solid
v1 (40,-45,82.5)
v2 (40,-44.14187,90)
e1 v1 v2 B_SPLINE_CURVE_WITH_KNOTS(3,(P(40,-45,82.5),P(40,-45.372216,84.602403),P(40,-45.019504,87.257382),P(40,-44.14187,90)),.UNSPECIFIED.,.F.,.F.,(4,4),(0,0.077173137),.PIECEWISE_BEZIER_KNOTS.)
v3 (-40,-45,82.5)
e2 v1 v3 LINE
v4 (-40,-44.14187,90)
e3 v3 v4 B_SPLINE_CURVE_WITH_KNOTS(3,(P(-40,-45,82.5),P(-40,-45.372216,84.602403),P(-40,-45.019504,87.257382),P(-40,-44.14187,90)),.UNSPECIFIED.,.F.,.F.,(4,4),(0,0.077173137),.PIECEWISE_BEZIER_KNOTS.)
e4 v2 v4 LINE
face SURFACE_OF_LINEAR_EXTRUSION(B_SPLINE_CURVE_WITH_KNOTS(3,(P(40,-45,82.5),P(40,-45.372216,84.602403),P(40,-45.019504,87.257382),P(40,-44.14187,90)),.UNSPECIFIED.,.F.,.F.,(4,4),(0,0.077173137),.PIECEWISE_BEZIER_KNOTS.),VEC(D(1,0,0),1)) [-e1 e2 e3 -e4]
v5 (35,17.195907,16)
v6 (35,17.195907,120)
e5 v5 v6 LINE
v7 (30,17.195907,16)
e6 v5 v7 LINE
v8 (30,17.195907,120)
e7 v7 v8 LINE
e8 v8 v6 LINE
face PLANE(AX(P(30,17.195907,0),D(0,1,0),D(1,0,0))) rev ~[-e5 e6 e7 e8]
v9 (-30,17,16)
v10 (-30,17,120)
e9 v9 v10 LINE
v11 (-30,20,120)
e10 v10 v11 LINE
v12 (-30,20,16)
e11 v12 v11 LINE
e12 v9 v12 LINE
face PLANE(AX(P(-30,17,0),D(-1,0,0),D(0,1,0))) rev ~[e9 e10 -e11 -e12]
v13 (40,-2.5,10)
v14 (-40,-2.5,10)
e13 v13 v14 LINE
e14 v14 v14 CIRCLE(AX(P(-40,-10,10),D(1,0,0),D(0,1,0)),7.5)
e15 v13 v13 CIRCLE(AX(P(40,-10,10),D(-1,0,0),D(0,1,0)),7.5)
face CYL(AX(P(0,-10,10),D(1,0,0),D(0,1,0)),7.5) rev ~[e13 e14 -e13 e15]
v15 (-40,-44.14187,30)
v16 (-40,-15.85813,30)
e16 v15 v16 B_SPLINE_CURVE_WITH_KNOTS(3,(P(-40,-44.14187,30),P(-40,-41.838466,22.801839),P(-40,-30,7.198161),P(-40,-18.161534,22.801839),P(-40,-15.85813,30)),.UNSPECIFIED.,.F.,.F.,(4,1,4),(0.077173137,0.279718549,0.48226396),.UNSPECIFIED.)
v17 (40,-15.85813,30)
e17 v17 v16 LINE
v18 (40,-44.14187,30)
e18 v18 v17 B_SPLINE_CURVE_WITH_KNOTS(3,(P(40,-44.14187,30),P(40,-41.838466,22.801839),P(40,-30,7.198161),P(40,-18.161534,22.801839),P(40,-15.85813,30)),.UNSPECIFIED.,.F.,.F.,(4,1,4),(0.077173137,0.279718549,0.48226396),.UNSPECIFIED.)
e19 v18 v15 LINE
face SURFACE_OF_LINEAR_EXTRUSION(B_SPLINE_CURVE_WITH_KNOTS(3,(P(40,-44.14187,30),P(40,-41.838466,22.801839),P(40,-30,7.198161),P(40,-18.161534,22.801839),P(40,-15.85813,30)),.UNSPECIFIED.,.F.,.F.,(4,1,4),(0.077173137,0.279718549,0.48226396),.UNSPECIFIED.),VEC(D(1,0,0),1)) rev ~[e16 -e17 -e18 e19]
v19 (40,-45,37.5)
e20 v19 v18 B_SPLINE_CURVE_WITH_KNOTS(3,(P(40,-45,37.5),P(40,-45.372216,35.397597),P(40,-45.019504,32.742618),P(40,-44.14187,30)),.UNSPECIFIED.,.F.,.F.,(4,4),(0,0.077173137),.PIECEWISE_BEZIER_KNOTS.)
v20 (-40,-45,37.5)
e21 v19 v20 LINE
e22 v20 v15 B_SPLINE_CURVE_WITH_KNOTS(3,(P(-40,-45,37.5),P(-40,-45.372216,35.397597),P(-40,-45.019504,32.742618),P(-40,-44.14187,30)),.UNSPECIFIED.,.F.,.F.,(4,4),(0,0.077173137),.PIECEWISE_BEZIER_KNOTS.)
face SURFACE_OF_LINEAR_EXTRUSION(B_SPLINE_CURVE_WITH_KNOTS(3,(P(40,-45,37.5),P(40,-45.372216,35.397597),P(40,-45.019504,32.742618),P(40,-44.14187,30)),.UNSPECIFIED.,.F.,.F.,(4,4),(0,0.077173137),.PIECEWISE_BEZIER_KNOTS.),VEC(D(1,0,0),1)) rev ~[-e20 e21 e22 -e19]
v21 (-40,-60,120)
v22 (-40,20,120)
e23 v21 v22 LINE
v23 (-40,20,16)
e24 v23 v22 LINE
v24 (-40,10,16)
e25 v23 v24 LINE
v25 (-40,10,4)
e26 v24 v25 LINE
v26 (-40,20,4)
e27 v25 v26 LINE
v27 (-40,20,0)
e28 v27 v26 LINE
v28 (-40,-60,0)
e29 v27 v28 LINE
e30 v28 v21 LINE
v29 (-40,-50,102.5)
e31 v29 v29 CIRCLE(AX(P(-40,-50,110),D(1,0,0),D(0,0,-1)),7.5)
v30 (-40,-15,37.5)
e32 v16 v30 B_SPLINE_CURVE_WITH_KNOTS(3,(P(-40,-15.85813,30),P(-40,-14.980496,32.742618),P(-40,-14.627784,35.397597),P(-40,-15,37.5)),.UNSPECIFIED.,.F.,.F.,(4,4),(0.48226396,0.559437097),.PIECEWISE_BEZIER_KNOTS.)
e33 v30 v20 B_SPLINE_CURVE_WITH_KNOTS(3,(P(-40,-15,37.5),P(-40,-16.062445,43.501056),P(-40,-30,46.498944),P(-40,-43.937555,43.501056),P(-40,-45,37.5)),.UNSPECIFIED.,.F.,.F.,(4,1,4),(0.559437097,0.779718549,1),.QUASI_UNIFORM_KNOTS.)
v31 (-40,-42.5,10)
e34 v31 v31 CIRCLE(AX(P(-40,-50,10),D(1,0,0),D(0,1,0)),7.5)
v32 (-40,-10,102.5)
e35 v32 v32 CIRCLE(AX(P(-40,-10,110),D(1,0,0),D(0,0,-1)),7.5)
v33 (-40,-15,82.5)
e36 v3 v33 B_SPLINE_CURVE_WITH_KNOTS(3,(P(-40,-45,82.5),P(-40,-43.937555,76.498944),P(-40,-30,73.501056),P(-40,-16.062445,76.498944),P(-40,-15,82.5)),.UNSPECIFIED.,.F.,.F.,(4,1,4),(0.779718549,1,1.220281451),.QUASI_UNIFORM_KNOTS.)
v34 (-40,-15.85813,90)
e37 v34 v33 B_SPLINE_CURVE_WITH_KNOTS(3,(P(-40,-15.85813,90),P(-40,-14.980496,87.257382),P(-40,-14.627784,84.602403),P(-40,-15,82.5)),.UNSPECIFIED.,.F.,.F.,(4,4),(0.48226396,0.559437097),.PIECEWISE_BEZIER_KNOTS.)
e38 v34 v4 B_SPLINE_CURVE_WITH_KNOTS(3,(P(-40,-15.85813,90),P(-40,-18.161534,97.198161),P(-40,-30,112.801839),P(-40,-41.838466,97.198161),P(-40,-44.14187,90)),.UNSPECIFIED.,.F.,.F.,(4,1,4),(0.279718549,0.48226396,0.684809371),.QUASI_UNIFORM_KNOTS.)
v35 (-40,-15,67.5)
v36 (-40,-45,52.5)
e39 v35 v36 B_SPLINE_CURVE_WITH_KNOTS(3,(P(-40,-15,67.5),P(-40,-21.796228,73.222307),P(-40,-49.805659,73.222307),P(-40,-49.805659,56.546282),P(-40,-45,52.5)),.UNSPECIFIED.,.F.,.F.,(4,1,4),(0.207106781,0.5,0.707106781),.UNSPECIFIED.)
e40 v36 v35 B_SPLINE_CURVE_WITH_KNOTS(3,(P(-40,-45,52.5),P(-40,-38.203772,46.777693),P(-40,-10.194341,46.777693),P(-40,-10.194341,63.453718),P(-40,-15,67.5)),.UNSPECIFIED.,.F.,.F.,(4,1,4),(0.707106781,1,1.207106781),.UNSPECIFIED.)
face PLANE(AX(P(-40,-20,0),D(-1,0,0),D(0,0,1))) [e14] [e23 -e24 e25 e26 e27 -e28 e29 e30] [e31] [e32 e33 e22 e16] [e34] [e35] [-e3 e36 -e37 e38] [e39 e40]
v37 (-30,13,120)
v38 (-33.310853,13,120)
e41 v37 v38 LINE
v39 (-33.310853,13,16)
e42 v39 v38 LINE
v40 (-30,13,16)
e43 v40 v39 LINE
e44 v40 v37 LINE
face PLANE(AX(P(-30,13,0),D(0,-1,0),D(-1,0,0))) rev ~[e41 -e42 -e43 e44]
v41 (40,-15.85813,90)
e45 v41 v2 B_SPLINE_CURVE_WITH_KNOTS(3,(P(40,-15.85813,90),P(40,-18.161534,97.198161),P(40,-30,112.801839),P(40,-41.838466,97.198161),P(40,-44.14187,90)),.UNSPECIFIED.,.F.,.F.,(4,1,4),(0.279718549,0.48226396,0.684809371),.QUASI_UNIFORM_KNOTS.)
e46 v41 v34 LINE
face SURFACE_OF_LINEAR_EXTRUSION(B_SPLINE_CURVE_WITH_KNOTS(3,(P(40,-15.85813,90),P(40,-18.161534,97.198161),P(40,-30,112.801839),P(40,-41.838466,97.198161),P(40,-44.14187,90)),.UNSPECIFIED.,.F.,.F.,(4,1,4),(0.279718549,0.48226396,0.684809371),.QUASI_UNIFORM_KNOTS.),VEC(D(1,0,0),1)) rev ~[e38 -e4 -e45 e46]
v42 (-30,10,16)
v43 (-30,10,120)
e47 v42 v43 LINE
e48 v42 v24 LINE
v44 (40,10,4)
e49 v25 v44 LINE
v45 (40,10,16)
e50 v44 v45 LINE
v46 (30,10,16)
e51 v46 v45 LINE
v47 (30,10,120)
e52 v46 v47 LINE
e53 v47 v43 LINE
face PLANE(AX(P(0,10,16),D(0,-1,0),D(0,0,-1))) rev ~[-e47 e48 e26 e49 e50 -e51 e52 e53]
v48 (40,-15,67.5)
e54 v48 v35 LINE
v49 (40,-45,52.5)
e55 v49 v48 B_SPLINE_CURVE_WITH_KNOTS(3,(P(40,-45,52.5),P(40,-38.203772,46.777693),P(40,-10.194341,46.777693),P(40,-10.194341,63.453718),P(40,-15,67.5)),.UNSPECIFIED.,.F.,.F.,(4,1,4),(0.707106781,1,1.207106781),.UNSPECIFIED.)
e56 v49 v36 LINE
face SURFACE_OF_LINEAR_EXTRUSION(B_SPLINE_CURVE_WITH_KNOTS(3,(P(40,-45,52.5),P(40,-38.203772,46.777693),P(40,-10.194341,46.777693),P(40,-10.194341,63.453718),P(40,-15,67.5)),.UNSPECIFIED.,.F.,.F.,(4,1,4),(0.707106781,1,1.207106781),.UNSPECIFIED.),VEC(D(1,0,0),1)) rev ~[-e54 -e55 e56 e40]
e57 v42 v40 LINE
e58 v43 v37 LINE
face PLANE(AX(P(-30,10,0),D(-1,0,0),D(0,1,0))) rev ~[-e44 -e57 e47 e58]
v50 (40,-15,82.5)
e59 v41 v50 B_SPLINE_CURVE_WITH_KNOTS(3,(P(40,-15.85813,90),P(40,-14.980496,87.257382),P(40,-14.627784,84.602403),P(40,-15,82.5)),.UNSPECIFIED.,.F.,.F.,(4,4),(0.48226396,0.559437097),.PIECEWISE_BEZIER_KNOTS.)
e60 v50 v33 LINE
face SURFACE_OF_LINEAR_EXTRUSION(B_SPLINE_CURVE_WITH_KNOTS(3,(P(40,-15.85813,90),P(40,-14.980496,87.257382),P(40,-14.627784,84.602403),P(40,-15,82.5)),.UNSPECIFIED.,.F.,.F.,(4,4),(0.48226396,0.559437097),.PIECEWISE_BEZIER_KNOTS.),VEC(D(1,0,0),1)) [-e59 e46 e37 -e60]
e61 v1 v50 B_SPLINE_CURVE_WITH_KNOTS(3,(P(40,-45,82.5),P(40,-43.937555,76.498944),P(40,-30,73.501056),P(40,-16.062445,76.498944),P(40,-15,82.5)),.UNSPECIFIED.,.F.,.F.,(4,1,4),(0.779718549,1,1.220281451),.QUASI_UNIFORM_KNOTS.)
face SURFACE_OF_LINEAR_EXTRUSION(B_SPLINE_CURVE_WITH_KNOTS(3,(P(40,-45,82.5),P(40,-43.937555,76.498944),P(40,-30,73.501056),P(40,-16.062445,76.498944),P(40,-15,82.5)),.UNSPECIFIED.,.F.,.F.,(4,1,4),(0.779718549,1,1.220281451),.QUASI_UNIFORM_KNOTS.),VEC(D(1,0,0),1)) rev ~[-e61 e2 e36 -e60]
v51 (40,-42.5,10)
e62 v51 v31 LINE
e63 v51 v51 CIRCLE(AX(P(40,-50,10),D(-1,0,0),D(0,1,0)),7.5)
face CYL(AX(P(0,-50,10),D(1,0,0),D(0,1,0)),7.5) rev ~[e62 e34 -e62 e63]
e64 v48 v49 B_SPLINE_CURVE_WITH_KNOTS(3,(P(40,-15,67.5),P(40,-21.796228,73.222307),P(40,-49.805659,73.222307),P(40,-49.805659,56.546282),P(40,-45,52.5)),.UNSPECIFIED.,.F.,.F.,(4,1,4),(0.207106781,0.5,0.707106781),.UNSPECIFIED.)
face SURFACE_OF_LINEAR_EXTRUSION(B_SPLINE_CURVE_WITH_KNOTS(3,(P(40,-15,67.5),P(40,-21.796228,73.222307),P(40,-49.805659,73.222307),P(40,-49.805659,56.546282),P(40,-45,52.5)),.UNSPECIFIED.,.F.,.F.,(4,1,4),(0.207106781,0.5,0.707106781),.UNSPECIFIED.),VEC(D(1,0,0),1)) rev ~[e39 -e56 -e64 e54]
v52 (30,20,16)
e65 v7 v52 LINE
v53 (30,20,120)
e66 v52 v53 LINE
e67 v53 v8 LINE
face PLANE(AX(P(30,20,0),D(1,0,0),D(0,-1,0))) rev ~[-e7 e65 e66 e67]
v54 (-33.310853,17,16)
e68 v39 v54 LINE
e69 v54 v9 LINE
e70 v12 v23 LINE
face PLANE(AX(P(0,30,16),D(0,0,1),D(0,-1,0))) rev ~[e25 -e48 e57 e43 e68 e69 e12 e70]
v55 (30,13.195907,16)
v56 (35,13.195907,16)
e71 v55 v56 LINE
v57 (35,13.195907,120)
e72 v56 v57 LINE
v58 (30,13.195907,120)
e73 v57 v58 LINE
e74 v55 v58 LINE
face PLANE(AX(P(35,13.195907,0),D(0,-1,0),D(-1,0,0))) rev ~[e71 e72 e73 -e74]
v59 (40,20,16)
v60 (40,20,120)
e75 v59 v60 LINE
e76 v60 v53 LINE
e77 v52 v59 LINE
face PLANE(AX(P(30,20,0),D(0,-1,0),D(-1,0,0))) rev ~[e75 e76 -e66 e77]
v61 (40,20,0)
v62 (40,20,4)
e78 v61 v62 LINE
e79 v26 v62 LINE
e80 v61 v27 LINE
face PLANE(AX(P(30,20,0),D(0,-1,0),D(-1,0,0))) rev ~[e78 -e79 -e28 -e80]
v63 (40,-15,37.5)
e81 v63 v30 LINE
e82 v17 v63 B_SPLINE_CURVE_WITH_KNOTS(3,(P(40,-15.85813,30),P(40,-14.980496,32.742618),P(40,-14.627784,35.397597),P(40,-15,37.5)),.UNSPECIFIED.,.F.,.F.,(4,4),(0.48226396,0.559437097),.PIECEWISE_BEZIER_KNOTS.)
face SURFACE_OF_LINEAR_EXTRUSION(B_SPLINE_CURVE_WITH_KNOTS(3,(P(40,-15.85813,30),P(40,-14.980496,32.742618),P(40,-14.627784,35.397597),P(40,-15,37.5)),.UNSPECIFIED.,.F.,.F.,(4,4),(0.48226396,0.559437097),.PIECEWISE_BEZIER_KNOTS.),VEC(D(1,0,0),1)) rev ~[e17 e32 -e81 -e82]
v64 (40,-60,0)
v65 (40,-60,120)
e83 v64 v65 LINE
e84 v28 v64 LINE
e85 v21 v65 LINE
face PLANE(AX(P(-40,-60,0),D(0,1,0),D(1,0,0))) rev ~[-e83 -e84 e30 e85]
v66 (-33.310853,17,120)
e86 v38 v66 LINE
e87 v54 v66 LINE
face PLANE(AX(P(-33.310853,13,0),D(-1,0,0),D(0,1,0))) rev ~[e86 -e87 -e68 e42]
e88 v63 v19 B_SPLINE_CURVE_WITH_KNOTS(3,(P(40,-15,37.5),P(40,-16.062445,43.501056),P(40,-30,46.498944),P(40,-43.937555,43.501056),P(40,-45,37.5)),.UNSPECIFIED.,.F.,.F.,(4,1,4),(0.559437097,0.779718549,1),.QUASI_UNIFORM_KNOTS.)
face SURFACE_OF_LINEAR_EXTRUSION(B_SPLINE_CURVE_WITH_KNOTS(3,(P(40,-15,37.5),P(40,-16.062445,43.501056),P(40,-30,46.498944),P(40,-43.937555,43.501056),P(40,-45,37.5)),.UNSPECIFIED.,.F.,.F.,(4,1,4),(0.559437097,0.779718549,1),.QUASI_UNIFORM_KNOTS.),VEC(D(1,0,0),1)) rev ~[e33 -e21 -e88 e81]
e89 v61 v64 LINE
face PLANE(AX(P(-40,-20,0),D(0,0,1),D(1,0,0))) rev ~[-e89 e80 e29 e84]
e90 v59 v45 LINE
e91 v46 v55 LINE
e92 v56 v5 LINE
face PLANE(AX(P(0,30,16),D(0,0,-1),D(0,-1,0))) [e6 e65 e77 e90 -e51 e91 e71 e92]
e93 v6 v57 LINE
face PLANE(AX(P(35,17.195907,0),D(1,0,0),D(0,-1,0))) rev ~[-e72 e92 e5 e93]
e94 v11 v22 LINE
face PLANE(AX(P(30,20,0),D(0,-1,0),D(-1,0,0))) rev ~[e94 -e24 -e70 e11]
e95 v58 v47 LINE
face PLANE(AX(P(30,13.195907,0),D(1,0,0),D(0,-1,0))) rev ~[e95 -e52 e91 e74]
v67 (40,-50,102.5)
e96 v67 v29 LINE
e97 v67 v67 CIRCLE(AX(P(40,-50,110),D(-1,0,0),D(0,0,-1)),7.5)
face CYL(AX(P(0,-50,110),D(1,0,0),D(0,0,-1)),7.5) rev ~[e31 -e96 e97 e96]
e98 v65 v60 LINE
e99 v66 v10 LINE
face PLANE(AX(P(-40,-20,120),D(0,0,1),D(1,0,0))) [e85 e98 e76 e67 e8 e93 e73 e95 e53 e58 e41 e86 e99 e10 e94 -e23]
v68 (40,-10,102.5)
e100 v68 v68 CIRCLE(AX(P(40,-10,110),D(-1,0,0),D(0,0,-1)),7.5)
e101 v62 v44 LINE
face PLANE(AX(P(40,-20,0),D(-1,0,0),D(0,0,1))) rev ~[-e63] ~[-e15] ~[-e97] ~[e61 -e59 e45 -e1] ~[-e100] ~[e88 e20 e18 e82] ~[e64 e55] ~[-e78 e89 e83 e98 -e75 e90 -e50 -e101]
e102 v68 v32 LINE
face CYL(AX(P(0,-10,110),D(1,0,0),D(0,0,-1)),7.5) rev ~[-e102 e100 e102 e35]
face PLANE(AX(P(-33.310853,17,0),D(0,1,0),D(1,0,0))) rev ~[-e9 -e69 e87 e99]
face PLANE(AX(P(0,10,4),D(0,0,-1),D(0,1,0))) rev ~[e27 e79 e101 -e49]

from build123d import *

# Parameters (mm, degrees)
F0_W          = 25
F0_H          = 10
F1_DEPTH      = 120
F0_W_2        = 3.3108529449
F0_H_2        = 4
F0_W_3        = 5
F2_DEPTH      = 4
F4_DEPTH      = 100
F4_DEPTH_BACK = 100
F6_DEPTH      = 120
F7_DEPTH      = 40
F9_DEPTH      = 100
F9_DEPTH_BACK = 100
F12_DEPTH     = 80


with BuildPart() as f1:
    # F0 (on Top) → F1 (new body)
    with BuildSketch(Plane.XY):
        with BuildLine():
            ThreePointArc((-40, 20), (-57.0710678119, 27.0710678119), (-50, 10))
            Line((-50, 10), (-50, 20))
            Line((-50, 20), (-40, 20))
        make_face()
        with BuildLine():
            Line((-50, 20), (-50, 10))
            ThreePointArc((-50, 10), (-42.9289321881, 12.9289321881), (-40, 20))
            Line((-40, 20), (-50, 20))
        make_face()
        with BuildLine():
            Line((-25, 0), (-25, 10))
            Line((-25, 10), (-30, 10))
            Line((-30, 10), (-30, 13))
            Line((-30, 13), (-33.3108529449, 13))
            Line((-33.3108529449, 13), (-33.3108529449, 17))
            Line((-33.3108529449, 17), (-30, 17))
            Line((-30, 17), (-30, 20))
            Line((-30, 20), (-40, 20))
            ThreePointArc((-40, 20), (-42.9289321881, 12.9289321881), (-50, 10))
            ThreePointArc((-50, 10), (-42.9289321881, 7.0710678119), (-40, 0))
            Line((-40, 0), (-25, 0))
        make_face()
        with Locations((-12.5, 5)):
            Rectangle(F0_W, F0_H)
        with Locations((12.5, 5)):
            Rectangle(F0_W, F0_H)
        with BuildLine():
            Line((25, 0), (0, 0))
            add(Edge.make_bspline(
                [(0, 0), (8.3333333333, 0), (16.6666666667, -3.90625), (25, -9.27734375)],
                knots=[0.5, 0.5, 0.5, 0.5, 0.8125, 0.8125, 0.8125, 0.8125], degree=3))
            Line((25, -9.27734375), (25, 0))
        make_face()
        with BuildLine():
            Line((0, 0), (-25, 0))
            Line((-25, 0), (-25, -9.27734375))
            add(Edge.make_bspline(
                [(-25, -9.27734375), (-16.6666666667, -3.90625), (-8.3333333333, 0), (0, 0)],
                knots=[0.1875, 0.1875, 0.1875, 0.1875, 0.5, 0.5, 0.5, 0.5], degree=3))
        make_face()
        with BuildLine():
            Line((-25, -9.27734375), (-25, 0))
            Line((-25, 0), (-40, 0))
            ThreePointArc((-40, 0), (-42.9289321881, -7.0710678119), (-50, -10))
            ThreePointArc((-50, -10), (-42.9289321881, -12.9289321881), (-40, -20))
            add(Edge.make_bspline(
                [(-40, -20), (-35, -16.25), (-30, -12.5), (-25, -9.27734375)],
                knots=[0, 0, 0, 0, 0.1875, 0.1875, 0.1875, 0.1875], degree=3))
        make_face()
        with BuildLine():
            Line((-50, -20), (-40, -20))
            ThreePointArc((-40, -20), (-42.9289321881, -12.9289321881), (-50, -10))
            Line((-50, -10), (-50, -20))
        make_face()
        with BuildLine():
            ThreePointArc((-50, -10), (-57.0710678119, -27.0710678119), (-40, -20))
            Line((-40, -20), (-50, -20))
            Line((-50, -20), (-50, -10))
        make_face()
        with BuildLine():
            Line((30, 10), (25, 10))
            Line((25, 10), (25, 0))
            Line((25, 0), (40, 0))
            ThreePointArc((40, 0), (42.9289321881, 7.0710678119), (50, 10))
            ThreePointArc((50, 10), (42.9289321881, 12.9289321881), (40, 20))
            Line((40, 20), (30, 20))
            Line((30, 20), (30, 17.1959070936))
            Line((30, 17.1959070936), (35, 17.1959070936))
            Line((35, 17.1959070936), (35, 13.1959070936))
            Line((35, 13.1959070936), (30, 13.1959070936))
            Line((30, 13.1959070936), (30, 10))
        make_face()
        with BuildLine():
            Line((50, 20), (40, 20))
            ThreePointArc((40, 20), (42.9289321881, 12.9289321881), (50, 10))
            Line((50, 10), (50, 20))
        make_face()
        with BuildLine():
            ThreePointArc((60, 20), (50, 30), (40, 20))
            Line((40, 20), (50, 20))
            Line((50, 20), (50, 10))
            ThreePointArc((50, 10), (57.0710678119, 12.9289321881), (60, 20))
        make_face()
        with BuildLine():
            Line((40, 0), (25, 0))
            Line((25, 0), (25, -9.27734375))
            add(Edge.make_bspline(
                [(25, -9.27734375), (30, -12.5), (35, -16.25), (40, -20)],
                knots=[0.8125, 0.8125, 0.8125, 0.8125, 1, 1, 1, 1], degree=3))
            ThreePointArc((40, -20), (42.9289321881, -12.9289321881), (50, -10))
            ThreePointArc((50, -10), (42.9289321881, -7.0710678119), (40, 0))
        make_face()
        with BuildLine():
            ThreePointArc((50, -10), (42.9289321881, -12.9289321881), (40, -20))
            Line((40, -20), (50, -20))
            Line((50, -20), (50, -10))
        make_face()
        with BuildLine():
            Line((50, -20), (40, -20))
            ThreePointArc((40, -20), (50, -30), (60, -20))
            ThreePointArc((60, -20), (57.0710678119, -12.9289321881), (50, -10))
            Line((50, -10), (50, -20))
        make_face()
        with BuildLine():
            Line((25, -10), (0, -10))
            Line((0, -10), (0, -20))
            Line((0, -20), (40, -20))
            add(Edge.make_bspline(
                [(25, -9.27734375), (30, -12.5), (35, -16.25), (40, -20)],
                knots=[0.8125, 0.8125, 0.8125, 0.8125, 1, 1, 1, 1], degree=3))
            Line((25, -9.27734375), (25, -10))
        make_face()
        with BuildLine():
            Line((-25, -10), (-25, -9.27734375))
            add(Edge.make_bspline(
                [(-40, -20), (-35, -16.25), (-30, -12.5), (-25, -9.27734375)],
                knots=[0, 0, 0, 0, 0.1875, 0.1875, 0.1875, 0.1875], degree=3))
            Line((-40, -20), (0, -20))
            Line((0, -20), (0, -10))
            Line((0, -10), (-25, -10))
        make_face()
        with BuildLine():
            Line((0, -10), (0, 0))
            add(Edge.make_bspline(
                [(-25, -9.27734375), (-16.6666666667, -3.90625), (-8.3333333333, 0), (0, 0)],
                knots=[0.1875, 0.1875, 0.1875, 0.1875, 0.5, 0.5, 0.5, 0.5], degree=3))
            Line((-25, -9.27734375), (-25, -10))
            Line((-25, -10), (0, -10))
        make_face()
        with BuildLine():
            add(Edge.make_bspline(
                [(0, 0), (8.3333333333, 0), (16.6666666667, -3.90625), (25, -9.27734375)],
                knots=[0.5, 0.5, 0.5, 0.5, 0.8125, 0.8125, 0.8125, 0.8125], degree=3))
            Line((0, 0), (0, -10))
            Line((0, -10), (25, -10))
            Line((25, -10), (25, -9.27734375))
        make_face()
    extrude(amount=F1_DEPTH)

    # F0 (on Top) → F2 (join)
    with BuildSketch(Plane.XY):
        Polygon((-30, 10), (-25, 10), (0, 10), (0, 20), (-30, 20), (-30, 17), (-26.6891470551, 17), (-26.6891470551, 13), (-30, 13), align=None)
        with Locations((-28.3445735276, 15)):
            Rectangle(F0_W_2, F0_H_2)
        with Locations((-31.6554264724, 15)):
            Rectangle(F0_W_2, F0_H_2)
        with Locations((32.5, 15.1959070936)):
            Rectangle(F0_W_3, F0_H_2)
        with Locations((27.5, 15.1959070936)):
            Rectangle(F0_W_3, F0_H_2)
        Polygon((0, 20), (0, 10), (25, 10), (30, 10), (30, 13.1959070936), (25, 13.1959070936), (25, 17.1959070936), (30, 17.1959070936), (30, 20), align=None)
    extrude(amount=F2_DEPTH)

    # F3 (on Right) → F4 (cut, two sides)
    with BuildSketch(Plane.YZ) as f4_sk:
        Polygon((30, 16), (20, 16), (10, 16), (10, 4), (15, 4), (20, 4), (30, 4), align=None)
    extrude(amount=F4_DEPTH, mode=Mode.SUBTRACT)
    extrude(f4_sk.sketch, amount=-F4_DEPTH_BACK, mode=Mode.SUBTRACT)

    # F5 (on Top) → F6 (cut)
    with BuildSketch(Plane.XY):
        Polygon((-40, -41.7266488075), (-40, 0), (-40, 41.7266488075), (-60, 41.7266488075), (-60, -41.7266488075), align=None)
        Polygon((40, 36.4203676581), (40, 0), (40, -36.4203676581), (60, -36.4203676581), (60, 36.4203676581), align=None)
    extrude(amount=F6_DEPTH, mode=Mode.SUBTRACT)

    # F7 (add): a face of the model
    f7_faces = [f1.faces().sort_by_distance(p)[0] for p in [
        (0, -20, 60),
    ]]
    extrude(f7_faces, amount=F7_DEPTH)

    # F8 (on Right) → F9 (cut, two sides)
    with BuildSketch(Plane.YZ) as f9_sk:
        with BuildLine():
            ThreePointArc((-42.5, 110), (-55.3033008589, 115.3033008589), (-50, 102.5))
            ThreePointArc((-50, 102.5), (-44.6966991411, 104.6966991411), (-42.5, 110))
        make_face()
        with BuildLine():
            ThreePointArc((-50, 17.5), (-55.3033008589, 4.6966991411), (-42.5, 10))
            ThreePointArc((-42.5, 10), (-44.6966991411, 15.3033008589), (-50, 17.5))
        make_face()
        with BuildLine():
            ThreePointArc((-2.5, 110), (-15.3033008589, 115.3033008589), (-10, 102.5))
            ThreePointArc((-10, 102.5), (-4.6966991411, 104.6966991411), (-2.5, 110))
        make_face()
        with BuildLine():
            ThreePointArc((-10, 17.5), (-15.3033008589, 15.3033008589), (-17.5, 10))
            ThreePointArc((-17.5, 10), (-10, 2.5), (-2.5, 10))
            ThreePointArc((-2.5, 10), (-4.6966991411, 15.3033008589), (-10, 17.5))
        make_face()
    extrude(amount=F9_DEPTH, mode=Mode.SUBTRACT)
    extrude(f9_sk.sketch, amount=-F9_DEPTH_BACK, mode=Mode.SUBTRACT)

    # F11 (on offset) → F12 (cut)
    with BuildSketch(Plane.YZ.offset(40)):
        with BuildLine():
            Line((-44.1418695118, 90), (-30, 90))
            Line((-30, 90), (-30, 105))
            add(Edge.make_bspline(
                [(-44.1418695118, 90), (-41.838466476, 97.1981606606), (-35.919233238, 105), (-30, 105)],
                knots=[0.0771731373, 0.0771731373, 0.0771731373, 0.0771731373, 0.2797185487, 0.2797185487, 0.2797185487, 0.2797185487], degree=3))
        make_face()
        with BuildLine():
            Line((-45, 82.5), (-30, 90))
            Line((-30, 90), (-44.1418695118, 90))
            add(Edge.make_bspline(
                [(-45, 82.5), (-45.3722155878, 84.6024026705), (-45.0195040015, 87.2573822471), (-44.1418695118, 90)],
                knots=[0, 0, 0, 0, 0.0771731373, 0.0771731373, 0.0771731373, 0.0771731373], degree=3))
        make_face()
        with BuildLine():
            add(Edge.make_bspline(
                [(-30, 75), (-36.9687776553, 75), (-43.9375553106, 76.4989440916), (-45, 82.5)],
                knots=[0.7797185487, 0.7797185487, 0.7797185487, 0.7797185487, 1, 1, 1, 1], degree=3))
            Line((-30, 75), (-30, 90))
            Line((-30, 90), (-45, 82.5))
        make_face()
        with BuildLine():
            Line((-30, 90), (-30, 75))
            add(Edge.make_bspline(
                [(-15, 82.5), (-16.0624446894, 76.4989440916), (-23.0312223447, 75), (-30, 75)],
                knots=[0.5594370973, 0.5594370973, 0.5594370973, 0.5594370973, 0.7797185487, 0.7797185487, 0.7797185487, 0.7797185487], degree=3))
            Line((-15, 82.5), (-30, 90))
        make_face()
        with BuildLine():
            Line((-30, 90), (-15, 82.5))
            add(Edge.make_bspline(
                [(-15.8581304882, 90), (-14.9804959985, 87.2573822471), (-14.6277844122, 84.6024026705), (-15, 82.5)],
                knots=[0.48226396, 0.48226396, 0.48226396, 0.48226396, 0.5594370973, 0.5594370973, 0.5594370973, 0.5594370973], degree=3))
            Line((-15.8581304882, 90), (-30, 90))
        make_face()
        with BuildLine():
            Line((-30, 90), (-15.8581304882, 90))
            add(Edge.make_bspline(
                [(-30, 105), (-24.080766762, 105), (-18.161533524, 97.1981606606), (-15.8581304882, 90)],
                knots=[0.2797185487, 0.2797185487, 0.2797185487, 0.2797185487, 0.48226396, 0.48226396, 0.48226396, 0.48226396], degree=3))
            Line((-30, 105), (-30, 90))
        make_face()
        with BuildLine():
            Line((-30, 71.7917303212), (-30, 60))
            Line((-30, 60), (-15, 67.5))
            add(Edge.make_bspline(
                [(-15, 67.5), (-18.3981137949, 70.3611535475), (-24.1990568975, 71.7917303212), (-30, 71.7917303212)],
                knots=[0.2071067812, 0.2071067812, 0.2071067812, 0.2071067812, 0.3535533906, 0.3535533906, 0.3535533906, 0.3535533906], degree=3))
        make_face()
        with BuildLine():
            Line((-45, 67.5), (-30, 60))
            Line((-30, 60), (-30, 71.7917303212))
            add(Edge.make_bspline(
                [(-30, 71.7917303212), (-35.8009431025, 71.7917303212), (-41.6018862051, 70.3611535475), (-45, 67.5)],
                knots=[0.3535533906, 0.3535533906, 0.3535533906, 0.3535533906, 0.5, 0.5, 0.5, 0.5], degree=3))
        make_face()
        with BuildLine():
            Line((-48.6042439614, 60), (-30, 60))
            Line((-30, 60), (-45, 67.5))
            add(Edge.make_bspline(
                [(-45, 67.5), (-47.4028293076, 65.4768589246), (-48.6042439614, 62.7384294623), (-48.6042439614, 60)],
                knots=[0.5, 0.5, 0.5, 0.5, 0.6035533906, 0.6035533906, 0.6035533906, 0.6035533906], degree=3))
        make_face()
        with BuildLine():
            Line((-45, 52.5), (-30, 60))
            Line((-30, 60), (-48.6042439614, 60))
            add(Edge.make_bspline(
                [(-48.6042439614, 60), (-48.6042439614, 57.2615705377), (-47.4028293076, 54.5231410754), (-45, 52.5)],
                knots=[0.6035533906, 0.6035533906, 0.6035533906, 0.6035533906, 0.7071067812, 0.7071067812, 0.7071067812, 0.7071067812], degree=3))
        make_face()
        with BuildLine():
            add(Edge.make_bspline(
                [(-45, 52.5), (-41.6018862051, 49.6388464525), (-35.8009431025, 48.2082696788), (-30, 48.2082696788)],
                knots=[0.7071067812, 0.7071067812, 0.7071067812, 0.7071067812, 0.8535533906, 0.8535533906, 0.8535533906, 0.8535533906], degree=3))
            Line((-30, 48.2082696788), (-30, 60))
            Line((-30, 60), (-45, 52.5))
        make_face()
        with BuildLine():
            add(Edge.make_bspline(
                [(-30, 48.2082696788), (-24.1990568975, 48.2082696788), (-18.3981137949, 49.6388464525), (-15, 52.5)],
                knots=[0.8535533906, 0.8535533906, 0.8535533906, 0.8535533906, 1, 1, 1, 1], degree=3))
            Line((-15, 52.5), (-30, 60))
            Line((-30, 60), (-30, 48.2082696788))
        make_face()
        with BuildLine():
            Line((-30, 60), (-15, 52.5))
            add(Edge.make_bspline(
                [(-15, 52.5), (-12.5971706924, 54.5231410754), (-11.3957560386, 57.2615705377), (-11.3957560386, 60)],
                knots=[0, 0, 0, 0, 0.1035533906, 0.1035533906, 0.1035533906, 0.1035533906], degree=3))
            Line((-11.3957560386, 60), (-30, 60))
        make_face()
        with BuildLine():
            Line((-30, 60), (-11.3957560386, 60))
            add(Edge.make_bspline(
                [(-11.3957560386, 60), (-11.3957560386, 62.7384294623), (-12.5971706924, 65.4768589246), (-15, 67.5)],
                knots=[0.1035533906, 0.1035533906, 0.1035533906, 0.1035533906, 0.2071067812, 0.2071067812, 0.2071067812, 0.2071067812], degree=3))
            Line((-15, 67.5), (-30, 60))
        make_face()
        with BuildLine():
            add(Edge.make_bspline(
                [(-15, 37.5), (-16.0624446894, 43.5010559084), (-23.0312223447, 45), (-30, 45)],
                knots=[0.5594370973, 0.5594370973, 0.5594370973, 0.5594370973, 0.7797185487, 0.7797185487, 0.7797185487, 0.7797185487], degree=3))
            Line((-30, 45), (-30, 30))
            Line((-30, 30), (-15, 37.5))
        make_face()
        with BuildLine():
            Line((-30, 30), (-30, 45))
            add(Edge.make_bspline(
                [(-30, 45), (-36.9687776553, 45), (-43.9375553106, 43.5010559084), (-45, 37.5)],
                knots=[0.7797185487, 0.7797185487, 0.7797185487, 0.7797185487, 1, 1, 1, 1], degree=3))
            Line((-45, 37.5), (-30, 30))
        make_face()
        with BuildLine():
            Line((-44.1418695118, 30), (-30, 30))
            Line((-30, 30), (-45, 37.5))
            add(Edge.make_bspline(
                [(-45, 37.5), (-45.3722155878, 35.3975973295), (-45.0195040015, 32.7426177529), (-44.1418695118, 30)],
                knots=[0, 0, 0, 0, 0.0771731373, 0.0771731373, 0.0771731373, 0.0771731373], degree=3))
        make_face()
        with BuildLine():
            add(Edge.make_bspline(
                [(-44.1418695118, 30), (-41.838466476, 22.8018393394), (-35.919233238, 15), (-30, 15)],
                knots=[0.0771731373, 0.0771731373, 0.0771731373, 0.0771731373, 0.2797185487, 0.2797185487, 0.2797185487, 0.2797185487], degree=3))
            Line((-30, 15), (-30, 30))
            Line((-30, 30), (-44.1418695118, 30))
        make_face()
        with BuildLine():
            add(Edge.make_bspline(
                [(-30, 15), (-24.080766762, 15), (-18.161533524, 22.8018393394), (-15.8581304882, 30)],
                knots=[0.2797185487, 0.2797185487, 0.2797185487, 0.2797185487, 0.48226396, 0.48226396, 0.48226396, 0.48226396], degree=3))
            Line((-15.8581304882, 30), (-30, 30))
            Line((-30, 30), (-30, 15))
        make_face()
        with BuildLine():
            Line((-30, 30), (-15.8581304882, 30))
            add(Edge.make_bspline(
                [(-15.8581304882, 30), (-14.9804959985, 32.7426177529), (-14.6277844122, 35.3975973295), (-15, 37.5)],
                knots=[0.48226396, 0.48226396, 0.48226396, 0.48226396, 0.5594370973, 0.5594370973, 0.5594370973, 0.5594370973], degree=3))
            Line((-15, 37.5), (-30, 30))
        make_face()
    extrude(amount=-F12_DEPTH, mode=Mode.SUBTRACT)


solid = f1.part
